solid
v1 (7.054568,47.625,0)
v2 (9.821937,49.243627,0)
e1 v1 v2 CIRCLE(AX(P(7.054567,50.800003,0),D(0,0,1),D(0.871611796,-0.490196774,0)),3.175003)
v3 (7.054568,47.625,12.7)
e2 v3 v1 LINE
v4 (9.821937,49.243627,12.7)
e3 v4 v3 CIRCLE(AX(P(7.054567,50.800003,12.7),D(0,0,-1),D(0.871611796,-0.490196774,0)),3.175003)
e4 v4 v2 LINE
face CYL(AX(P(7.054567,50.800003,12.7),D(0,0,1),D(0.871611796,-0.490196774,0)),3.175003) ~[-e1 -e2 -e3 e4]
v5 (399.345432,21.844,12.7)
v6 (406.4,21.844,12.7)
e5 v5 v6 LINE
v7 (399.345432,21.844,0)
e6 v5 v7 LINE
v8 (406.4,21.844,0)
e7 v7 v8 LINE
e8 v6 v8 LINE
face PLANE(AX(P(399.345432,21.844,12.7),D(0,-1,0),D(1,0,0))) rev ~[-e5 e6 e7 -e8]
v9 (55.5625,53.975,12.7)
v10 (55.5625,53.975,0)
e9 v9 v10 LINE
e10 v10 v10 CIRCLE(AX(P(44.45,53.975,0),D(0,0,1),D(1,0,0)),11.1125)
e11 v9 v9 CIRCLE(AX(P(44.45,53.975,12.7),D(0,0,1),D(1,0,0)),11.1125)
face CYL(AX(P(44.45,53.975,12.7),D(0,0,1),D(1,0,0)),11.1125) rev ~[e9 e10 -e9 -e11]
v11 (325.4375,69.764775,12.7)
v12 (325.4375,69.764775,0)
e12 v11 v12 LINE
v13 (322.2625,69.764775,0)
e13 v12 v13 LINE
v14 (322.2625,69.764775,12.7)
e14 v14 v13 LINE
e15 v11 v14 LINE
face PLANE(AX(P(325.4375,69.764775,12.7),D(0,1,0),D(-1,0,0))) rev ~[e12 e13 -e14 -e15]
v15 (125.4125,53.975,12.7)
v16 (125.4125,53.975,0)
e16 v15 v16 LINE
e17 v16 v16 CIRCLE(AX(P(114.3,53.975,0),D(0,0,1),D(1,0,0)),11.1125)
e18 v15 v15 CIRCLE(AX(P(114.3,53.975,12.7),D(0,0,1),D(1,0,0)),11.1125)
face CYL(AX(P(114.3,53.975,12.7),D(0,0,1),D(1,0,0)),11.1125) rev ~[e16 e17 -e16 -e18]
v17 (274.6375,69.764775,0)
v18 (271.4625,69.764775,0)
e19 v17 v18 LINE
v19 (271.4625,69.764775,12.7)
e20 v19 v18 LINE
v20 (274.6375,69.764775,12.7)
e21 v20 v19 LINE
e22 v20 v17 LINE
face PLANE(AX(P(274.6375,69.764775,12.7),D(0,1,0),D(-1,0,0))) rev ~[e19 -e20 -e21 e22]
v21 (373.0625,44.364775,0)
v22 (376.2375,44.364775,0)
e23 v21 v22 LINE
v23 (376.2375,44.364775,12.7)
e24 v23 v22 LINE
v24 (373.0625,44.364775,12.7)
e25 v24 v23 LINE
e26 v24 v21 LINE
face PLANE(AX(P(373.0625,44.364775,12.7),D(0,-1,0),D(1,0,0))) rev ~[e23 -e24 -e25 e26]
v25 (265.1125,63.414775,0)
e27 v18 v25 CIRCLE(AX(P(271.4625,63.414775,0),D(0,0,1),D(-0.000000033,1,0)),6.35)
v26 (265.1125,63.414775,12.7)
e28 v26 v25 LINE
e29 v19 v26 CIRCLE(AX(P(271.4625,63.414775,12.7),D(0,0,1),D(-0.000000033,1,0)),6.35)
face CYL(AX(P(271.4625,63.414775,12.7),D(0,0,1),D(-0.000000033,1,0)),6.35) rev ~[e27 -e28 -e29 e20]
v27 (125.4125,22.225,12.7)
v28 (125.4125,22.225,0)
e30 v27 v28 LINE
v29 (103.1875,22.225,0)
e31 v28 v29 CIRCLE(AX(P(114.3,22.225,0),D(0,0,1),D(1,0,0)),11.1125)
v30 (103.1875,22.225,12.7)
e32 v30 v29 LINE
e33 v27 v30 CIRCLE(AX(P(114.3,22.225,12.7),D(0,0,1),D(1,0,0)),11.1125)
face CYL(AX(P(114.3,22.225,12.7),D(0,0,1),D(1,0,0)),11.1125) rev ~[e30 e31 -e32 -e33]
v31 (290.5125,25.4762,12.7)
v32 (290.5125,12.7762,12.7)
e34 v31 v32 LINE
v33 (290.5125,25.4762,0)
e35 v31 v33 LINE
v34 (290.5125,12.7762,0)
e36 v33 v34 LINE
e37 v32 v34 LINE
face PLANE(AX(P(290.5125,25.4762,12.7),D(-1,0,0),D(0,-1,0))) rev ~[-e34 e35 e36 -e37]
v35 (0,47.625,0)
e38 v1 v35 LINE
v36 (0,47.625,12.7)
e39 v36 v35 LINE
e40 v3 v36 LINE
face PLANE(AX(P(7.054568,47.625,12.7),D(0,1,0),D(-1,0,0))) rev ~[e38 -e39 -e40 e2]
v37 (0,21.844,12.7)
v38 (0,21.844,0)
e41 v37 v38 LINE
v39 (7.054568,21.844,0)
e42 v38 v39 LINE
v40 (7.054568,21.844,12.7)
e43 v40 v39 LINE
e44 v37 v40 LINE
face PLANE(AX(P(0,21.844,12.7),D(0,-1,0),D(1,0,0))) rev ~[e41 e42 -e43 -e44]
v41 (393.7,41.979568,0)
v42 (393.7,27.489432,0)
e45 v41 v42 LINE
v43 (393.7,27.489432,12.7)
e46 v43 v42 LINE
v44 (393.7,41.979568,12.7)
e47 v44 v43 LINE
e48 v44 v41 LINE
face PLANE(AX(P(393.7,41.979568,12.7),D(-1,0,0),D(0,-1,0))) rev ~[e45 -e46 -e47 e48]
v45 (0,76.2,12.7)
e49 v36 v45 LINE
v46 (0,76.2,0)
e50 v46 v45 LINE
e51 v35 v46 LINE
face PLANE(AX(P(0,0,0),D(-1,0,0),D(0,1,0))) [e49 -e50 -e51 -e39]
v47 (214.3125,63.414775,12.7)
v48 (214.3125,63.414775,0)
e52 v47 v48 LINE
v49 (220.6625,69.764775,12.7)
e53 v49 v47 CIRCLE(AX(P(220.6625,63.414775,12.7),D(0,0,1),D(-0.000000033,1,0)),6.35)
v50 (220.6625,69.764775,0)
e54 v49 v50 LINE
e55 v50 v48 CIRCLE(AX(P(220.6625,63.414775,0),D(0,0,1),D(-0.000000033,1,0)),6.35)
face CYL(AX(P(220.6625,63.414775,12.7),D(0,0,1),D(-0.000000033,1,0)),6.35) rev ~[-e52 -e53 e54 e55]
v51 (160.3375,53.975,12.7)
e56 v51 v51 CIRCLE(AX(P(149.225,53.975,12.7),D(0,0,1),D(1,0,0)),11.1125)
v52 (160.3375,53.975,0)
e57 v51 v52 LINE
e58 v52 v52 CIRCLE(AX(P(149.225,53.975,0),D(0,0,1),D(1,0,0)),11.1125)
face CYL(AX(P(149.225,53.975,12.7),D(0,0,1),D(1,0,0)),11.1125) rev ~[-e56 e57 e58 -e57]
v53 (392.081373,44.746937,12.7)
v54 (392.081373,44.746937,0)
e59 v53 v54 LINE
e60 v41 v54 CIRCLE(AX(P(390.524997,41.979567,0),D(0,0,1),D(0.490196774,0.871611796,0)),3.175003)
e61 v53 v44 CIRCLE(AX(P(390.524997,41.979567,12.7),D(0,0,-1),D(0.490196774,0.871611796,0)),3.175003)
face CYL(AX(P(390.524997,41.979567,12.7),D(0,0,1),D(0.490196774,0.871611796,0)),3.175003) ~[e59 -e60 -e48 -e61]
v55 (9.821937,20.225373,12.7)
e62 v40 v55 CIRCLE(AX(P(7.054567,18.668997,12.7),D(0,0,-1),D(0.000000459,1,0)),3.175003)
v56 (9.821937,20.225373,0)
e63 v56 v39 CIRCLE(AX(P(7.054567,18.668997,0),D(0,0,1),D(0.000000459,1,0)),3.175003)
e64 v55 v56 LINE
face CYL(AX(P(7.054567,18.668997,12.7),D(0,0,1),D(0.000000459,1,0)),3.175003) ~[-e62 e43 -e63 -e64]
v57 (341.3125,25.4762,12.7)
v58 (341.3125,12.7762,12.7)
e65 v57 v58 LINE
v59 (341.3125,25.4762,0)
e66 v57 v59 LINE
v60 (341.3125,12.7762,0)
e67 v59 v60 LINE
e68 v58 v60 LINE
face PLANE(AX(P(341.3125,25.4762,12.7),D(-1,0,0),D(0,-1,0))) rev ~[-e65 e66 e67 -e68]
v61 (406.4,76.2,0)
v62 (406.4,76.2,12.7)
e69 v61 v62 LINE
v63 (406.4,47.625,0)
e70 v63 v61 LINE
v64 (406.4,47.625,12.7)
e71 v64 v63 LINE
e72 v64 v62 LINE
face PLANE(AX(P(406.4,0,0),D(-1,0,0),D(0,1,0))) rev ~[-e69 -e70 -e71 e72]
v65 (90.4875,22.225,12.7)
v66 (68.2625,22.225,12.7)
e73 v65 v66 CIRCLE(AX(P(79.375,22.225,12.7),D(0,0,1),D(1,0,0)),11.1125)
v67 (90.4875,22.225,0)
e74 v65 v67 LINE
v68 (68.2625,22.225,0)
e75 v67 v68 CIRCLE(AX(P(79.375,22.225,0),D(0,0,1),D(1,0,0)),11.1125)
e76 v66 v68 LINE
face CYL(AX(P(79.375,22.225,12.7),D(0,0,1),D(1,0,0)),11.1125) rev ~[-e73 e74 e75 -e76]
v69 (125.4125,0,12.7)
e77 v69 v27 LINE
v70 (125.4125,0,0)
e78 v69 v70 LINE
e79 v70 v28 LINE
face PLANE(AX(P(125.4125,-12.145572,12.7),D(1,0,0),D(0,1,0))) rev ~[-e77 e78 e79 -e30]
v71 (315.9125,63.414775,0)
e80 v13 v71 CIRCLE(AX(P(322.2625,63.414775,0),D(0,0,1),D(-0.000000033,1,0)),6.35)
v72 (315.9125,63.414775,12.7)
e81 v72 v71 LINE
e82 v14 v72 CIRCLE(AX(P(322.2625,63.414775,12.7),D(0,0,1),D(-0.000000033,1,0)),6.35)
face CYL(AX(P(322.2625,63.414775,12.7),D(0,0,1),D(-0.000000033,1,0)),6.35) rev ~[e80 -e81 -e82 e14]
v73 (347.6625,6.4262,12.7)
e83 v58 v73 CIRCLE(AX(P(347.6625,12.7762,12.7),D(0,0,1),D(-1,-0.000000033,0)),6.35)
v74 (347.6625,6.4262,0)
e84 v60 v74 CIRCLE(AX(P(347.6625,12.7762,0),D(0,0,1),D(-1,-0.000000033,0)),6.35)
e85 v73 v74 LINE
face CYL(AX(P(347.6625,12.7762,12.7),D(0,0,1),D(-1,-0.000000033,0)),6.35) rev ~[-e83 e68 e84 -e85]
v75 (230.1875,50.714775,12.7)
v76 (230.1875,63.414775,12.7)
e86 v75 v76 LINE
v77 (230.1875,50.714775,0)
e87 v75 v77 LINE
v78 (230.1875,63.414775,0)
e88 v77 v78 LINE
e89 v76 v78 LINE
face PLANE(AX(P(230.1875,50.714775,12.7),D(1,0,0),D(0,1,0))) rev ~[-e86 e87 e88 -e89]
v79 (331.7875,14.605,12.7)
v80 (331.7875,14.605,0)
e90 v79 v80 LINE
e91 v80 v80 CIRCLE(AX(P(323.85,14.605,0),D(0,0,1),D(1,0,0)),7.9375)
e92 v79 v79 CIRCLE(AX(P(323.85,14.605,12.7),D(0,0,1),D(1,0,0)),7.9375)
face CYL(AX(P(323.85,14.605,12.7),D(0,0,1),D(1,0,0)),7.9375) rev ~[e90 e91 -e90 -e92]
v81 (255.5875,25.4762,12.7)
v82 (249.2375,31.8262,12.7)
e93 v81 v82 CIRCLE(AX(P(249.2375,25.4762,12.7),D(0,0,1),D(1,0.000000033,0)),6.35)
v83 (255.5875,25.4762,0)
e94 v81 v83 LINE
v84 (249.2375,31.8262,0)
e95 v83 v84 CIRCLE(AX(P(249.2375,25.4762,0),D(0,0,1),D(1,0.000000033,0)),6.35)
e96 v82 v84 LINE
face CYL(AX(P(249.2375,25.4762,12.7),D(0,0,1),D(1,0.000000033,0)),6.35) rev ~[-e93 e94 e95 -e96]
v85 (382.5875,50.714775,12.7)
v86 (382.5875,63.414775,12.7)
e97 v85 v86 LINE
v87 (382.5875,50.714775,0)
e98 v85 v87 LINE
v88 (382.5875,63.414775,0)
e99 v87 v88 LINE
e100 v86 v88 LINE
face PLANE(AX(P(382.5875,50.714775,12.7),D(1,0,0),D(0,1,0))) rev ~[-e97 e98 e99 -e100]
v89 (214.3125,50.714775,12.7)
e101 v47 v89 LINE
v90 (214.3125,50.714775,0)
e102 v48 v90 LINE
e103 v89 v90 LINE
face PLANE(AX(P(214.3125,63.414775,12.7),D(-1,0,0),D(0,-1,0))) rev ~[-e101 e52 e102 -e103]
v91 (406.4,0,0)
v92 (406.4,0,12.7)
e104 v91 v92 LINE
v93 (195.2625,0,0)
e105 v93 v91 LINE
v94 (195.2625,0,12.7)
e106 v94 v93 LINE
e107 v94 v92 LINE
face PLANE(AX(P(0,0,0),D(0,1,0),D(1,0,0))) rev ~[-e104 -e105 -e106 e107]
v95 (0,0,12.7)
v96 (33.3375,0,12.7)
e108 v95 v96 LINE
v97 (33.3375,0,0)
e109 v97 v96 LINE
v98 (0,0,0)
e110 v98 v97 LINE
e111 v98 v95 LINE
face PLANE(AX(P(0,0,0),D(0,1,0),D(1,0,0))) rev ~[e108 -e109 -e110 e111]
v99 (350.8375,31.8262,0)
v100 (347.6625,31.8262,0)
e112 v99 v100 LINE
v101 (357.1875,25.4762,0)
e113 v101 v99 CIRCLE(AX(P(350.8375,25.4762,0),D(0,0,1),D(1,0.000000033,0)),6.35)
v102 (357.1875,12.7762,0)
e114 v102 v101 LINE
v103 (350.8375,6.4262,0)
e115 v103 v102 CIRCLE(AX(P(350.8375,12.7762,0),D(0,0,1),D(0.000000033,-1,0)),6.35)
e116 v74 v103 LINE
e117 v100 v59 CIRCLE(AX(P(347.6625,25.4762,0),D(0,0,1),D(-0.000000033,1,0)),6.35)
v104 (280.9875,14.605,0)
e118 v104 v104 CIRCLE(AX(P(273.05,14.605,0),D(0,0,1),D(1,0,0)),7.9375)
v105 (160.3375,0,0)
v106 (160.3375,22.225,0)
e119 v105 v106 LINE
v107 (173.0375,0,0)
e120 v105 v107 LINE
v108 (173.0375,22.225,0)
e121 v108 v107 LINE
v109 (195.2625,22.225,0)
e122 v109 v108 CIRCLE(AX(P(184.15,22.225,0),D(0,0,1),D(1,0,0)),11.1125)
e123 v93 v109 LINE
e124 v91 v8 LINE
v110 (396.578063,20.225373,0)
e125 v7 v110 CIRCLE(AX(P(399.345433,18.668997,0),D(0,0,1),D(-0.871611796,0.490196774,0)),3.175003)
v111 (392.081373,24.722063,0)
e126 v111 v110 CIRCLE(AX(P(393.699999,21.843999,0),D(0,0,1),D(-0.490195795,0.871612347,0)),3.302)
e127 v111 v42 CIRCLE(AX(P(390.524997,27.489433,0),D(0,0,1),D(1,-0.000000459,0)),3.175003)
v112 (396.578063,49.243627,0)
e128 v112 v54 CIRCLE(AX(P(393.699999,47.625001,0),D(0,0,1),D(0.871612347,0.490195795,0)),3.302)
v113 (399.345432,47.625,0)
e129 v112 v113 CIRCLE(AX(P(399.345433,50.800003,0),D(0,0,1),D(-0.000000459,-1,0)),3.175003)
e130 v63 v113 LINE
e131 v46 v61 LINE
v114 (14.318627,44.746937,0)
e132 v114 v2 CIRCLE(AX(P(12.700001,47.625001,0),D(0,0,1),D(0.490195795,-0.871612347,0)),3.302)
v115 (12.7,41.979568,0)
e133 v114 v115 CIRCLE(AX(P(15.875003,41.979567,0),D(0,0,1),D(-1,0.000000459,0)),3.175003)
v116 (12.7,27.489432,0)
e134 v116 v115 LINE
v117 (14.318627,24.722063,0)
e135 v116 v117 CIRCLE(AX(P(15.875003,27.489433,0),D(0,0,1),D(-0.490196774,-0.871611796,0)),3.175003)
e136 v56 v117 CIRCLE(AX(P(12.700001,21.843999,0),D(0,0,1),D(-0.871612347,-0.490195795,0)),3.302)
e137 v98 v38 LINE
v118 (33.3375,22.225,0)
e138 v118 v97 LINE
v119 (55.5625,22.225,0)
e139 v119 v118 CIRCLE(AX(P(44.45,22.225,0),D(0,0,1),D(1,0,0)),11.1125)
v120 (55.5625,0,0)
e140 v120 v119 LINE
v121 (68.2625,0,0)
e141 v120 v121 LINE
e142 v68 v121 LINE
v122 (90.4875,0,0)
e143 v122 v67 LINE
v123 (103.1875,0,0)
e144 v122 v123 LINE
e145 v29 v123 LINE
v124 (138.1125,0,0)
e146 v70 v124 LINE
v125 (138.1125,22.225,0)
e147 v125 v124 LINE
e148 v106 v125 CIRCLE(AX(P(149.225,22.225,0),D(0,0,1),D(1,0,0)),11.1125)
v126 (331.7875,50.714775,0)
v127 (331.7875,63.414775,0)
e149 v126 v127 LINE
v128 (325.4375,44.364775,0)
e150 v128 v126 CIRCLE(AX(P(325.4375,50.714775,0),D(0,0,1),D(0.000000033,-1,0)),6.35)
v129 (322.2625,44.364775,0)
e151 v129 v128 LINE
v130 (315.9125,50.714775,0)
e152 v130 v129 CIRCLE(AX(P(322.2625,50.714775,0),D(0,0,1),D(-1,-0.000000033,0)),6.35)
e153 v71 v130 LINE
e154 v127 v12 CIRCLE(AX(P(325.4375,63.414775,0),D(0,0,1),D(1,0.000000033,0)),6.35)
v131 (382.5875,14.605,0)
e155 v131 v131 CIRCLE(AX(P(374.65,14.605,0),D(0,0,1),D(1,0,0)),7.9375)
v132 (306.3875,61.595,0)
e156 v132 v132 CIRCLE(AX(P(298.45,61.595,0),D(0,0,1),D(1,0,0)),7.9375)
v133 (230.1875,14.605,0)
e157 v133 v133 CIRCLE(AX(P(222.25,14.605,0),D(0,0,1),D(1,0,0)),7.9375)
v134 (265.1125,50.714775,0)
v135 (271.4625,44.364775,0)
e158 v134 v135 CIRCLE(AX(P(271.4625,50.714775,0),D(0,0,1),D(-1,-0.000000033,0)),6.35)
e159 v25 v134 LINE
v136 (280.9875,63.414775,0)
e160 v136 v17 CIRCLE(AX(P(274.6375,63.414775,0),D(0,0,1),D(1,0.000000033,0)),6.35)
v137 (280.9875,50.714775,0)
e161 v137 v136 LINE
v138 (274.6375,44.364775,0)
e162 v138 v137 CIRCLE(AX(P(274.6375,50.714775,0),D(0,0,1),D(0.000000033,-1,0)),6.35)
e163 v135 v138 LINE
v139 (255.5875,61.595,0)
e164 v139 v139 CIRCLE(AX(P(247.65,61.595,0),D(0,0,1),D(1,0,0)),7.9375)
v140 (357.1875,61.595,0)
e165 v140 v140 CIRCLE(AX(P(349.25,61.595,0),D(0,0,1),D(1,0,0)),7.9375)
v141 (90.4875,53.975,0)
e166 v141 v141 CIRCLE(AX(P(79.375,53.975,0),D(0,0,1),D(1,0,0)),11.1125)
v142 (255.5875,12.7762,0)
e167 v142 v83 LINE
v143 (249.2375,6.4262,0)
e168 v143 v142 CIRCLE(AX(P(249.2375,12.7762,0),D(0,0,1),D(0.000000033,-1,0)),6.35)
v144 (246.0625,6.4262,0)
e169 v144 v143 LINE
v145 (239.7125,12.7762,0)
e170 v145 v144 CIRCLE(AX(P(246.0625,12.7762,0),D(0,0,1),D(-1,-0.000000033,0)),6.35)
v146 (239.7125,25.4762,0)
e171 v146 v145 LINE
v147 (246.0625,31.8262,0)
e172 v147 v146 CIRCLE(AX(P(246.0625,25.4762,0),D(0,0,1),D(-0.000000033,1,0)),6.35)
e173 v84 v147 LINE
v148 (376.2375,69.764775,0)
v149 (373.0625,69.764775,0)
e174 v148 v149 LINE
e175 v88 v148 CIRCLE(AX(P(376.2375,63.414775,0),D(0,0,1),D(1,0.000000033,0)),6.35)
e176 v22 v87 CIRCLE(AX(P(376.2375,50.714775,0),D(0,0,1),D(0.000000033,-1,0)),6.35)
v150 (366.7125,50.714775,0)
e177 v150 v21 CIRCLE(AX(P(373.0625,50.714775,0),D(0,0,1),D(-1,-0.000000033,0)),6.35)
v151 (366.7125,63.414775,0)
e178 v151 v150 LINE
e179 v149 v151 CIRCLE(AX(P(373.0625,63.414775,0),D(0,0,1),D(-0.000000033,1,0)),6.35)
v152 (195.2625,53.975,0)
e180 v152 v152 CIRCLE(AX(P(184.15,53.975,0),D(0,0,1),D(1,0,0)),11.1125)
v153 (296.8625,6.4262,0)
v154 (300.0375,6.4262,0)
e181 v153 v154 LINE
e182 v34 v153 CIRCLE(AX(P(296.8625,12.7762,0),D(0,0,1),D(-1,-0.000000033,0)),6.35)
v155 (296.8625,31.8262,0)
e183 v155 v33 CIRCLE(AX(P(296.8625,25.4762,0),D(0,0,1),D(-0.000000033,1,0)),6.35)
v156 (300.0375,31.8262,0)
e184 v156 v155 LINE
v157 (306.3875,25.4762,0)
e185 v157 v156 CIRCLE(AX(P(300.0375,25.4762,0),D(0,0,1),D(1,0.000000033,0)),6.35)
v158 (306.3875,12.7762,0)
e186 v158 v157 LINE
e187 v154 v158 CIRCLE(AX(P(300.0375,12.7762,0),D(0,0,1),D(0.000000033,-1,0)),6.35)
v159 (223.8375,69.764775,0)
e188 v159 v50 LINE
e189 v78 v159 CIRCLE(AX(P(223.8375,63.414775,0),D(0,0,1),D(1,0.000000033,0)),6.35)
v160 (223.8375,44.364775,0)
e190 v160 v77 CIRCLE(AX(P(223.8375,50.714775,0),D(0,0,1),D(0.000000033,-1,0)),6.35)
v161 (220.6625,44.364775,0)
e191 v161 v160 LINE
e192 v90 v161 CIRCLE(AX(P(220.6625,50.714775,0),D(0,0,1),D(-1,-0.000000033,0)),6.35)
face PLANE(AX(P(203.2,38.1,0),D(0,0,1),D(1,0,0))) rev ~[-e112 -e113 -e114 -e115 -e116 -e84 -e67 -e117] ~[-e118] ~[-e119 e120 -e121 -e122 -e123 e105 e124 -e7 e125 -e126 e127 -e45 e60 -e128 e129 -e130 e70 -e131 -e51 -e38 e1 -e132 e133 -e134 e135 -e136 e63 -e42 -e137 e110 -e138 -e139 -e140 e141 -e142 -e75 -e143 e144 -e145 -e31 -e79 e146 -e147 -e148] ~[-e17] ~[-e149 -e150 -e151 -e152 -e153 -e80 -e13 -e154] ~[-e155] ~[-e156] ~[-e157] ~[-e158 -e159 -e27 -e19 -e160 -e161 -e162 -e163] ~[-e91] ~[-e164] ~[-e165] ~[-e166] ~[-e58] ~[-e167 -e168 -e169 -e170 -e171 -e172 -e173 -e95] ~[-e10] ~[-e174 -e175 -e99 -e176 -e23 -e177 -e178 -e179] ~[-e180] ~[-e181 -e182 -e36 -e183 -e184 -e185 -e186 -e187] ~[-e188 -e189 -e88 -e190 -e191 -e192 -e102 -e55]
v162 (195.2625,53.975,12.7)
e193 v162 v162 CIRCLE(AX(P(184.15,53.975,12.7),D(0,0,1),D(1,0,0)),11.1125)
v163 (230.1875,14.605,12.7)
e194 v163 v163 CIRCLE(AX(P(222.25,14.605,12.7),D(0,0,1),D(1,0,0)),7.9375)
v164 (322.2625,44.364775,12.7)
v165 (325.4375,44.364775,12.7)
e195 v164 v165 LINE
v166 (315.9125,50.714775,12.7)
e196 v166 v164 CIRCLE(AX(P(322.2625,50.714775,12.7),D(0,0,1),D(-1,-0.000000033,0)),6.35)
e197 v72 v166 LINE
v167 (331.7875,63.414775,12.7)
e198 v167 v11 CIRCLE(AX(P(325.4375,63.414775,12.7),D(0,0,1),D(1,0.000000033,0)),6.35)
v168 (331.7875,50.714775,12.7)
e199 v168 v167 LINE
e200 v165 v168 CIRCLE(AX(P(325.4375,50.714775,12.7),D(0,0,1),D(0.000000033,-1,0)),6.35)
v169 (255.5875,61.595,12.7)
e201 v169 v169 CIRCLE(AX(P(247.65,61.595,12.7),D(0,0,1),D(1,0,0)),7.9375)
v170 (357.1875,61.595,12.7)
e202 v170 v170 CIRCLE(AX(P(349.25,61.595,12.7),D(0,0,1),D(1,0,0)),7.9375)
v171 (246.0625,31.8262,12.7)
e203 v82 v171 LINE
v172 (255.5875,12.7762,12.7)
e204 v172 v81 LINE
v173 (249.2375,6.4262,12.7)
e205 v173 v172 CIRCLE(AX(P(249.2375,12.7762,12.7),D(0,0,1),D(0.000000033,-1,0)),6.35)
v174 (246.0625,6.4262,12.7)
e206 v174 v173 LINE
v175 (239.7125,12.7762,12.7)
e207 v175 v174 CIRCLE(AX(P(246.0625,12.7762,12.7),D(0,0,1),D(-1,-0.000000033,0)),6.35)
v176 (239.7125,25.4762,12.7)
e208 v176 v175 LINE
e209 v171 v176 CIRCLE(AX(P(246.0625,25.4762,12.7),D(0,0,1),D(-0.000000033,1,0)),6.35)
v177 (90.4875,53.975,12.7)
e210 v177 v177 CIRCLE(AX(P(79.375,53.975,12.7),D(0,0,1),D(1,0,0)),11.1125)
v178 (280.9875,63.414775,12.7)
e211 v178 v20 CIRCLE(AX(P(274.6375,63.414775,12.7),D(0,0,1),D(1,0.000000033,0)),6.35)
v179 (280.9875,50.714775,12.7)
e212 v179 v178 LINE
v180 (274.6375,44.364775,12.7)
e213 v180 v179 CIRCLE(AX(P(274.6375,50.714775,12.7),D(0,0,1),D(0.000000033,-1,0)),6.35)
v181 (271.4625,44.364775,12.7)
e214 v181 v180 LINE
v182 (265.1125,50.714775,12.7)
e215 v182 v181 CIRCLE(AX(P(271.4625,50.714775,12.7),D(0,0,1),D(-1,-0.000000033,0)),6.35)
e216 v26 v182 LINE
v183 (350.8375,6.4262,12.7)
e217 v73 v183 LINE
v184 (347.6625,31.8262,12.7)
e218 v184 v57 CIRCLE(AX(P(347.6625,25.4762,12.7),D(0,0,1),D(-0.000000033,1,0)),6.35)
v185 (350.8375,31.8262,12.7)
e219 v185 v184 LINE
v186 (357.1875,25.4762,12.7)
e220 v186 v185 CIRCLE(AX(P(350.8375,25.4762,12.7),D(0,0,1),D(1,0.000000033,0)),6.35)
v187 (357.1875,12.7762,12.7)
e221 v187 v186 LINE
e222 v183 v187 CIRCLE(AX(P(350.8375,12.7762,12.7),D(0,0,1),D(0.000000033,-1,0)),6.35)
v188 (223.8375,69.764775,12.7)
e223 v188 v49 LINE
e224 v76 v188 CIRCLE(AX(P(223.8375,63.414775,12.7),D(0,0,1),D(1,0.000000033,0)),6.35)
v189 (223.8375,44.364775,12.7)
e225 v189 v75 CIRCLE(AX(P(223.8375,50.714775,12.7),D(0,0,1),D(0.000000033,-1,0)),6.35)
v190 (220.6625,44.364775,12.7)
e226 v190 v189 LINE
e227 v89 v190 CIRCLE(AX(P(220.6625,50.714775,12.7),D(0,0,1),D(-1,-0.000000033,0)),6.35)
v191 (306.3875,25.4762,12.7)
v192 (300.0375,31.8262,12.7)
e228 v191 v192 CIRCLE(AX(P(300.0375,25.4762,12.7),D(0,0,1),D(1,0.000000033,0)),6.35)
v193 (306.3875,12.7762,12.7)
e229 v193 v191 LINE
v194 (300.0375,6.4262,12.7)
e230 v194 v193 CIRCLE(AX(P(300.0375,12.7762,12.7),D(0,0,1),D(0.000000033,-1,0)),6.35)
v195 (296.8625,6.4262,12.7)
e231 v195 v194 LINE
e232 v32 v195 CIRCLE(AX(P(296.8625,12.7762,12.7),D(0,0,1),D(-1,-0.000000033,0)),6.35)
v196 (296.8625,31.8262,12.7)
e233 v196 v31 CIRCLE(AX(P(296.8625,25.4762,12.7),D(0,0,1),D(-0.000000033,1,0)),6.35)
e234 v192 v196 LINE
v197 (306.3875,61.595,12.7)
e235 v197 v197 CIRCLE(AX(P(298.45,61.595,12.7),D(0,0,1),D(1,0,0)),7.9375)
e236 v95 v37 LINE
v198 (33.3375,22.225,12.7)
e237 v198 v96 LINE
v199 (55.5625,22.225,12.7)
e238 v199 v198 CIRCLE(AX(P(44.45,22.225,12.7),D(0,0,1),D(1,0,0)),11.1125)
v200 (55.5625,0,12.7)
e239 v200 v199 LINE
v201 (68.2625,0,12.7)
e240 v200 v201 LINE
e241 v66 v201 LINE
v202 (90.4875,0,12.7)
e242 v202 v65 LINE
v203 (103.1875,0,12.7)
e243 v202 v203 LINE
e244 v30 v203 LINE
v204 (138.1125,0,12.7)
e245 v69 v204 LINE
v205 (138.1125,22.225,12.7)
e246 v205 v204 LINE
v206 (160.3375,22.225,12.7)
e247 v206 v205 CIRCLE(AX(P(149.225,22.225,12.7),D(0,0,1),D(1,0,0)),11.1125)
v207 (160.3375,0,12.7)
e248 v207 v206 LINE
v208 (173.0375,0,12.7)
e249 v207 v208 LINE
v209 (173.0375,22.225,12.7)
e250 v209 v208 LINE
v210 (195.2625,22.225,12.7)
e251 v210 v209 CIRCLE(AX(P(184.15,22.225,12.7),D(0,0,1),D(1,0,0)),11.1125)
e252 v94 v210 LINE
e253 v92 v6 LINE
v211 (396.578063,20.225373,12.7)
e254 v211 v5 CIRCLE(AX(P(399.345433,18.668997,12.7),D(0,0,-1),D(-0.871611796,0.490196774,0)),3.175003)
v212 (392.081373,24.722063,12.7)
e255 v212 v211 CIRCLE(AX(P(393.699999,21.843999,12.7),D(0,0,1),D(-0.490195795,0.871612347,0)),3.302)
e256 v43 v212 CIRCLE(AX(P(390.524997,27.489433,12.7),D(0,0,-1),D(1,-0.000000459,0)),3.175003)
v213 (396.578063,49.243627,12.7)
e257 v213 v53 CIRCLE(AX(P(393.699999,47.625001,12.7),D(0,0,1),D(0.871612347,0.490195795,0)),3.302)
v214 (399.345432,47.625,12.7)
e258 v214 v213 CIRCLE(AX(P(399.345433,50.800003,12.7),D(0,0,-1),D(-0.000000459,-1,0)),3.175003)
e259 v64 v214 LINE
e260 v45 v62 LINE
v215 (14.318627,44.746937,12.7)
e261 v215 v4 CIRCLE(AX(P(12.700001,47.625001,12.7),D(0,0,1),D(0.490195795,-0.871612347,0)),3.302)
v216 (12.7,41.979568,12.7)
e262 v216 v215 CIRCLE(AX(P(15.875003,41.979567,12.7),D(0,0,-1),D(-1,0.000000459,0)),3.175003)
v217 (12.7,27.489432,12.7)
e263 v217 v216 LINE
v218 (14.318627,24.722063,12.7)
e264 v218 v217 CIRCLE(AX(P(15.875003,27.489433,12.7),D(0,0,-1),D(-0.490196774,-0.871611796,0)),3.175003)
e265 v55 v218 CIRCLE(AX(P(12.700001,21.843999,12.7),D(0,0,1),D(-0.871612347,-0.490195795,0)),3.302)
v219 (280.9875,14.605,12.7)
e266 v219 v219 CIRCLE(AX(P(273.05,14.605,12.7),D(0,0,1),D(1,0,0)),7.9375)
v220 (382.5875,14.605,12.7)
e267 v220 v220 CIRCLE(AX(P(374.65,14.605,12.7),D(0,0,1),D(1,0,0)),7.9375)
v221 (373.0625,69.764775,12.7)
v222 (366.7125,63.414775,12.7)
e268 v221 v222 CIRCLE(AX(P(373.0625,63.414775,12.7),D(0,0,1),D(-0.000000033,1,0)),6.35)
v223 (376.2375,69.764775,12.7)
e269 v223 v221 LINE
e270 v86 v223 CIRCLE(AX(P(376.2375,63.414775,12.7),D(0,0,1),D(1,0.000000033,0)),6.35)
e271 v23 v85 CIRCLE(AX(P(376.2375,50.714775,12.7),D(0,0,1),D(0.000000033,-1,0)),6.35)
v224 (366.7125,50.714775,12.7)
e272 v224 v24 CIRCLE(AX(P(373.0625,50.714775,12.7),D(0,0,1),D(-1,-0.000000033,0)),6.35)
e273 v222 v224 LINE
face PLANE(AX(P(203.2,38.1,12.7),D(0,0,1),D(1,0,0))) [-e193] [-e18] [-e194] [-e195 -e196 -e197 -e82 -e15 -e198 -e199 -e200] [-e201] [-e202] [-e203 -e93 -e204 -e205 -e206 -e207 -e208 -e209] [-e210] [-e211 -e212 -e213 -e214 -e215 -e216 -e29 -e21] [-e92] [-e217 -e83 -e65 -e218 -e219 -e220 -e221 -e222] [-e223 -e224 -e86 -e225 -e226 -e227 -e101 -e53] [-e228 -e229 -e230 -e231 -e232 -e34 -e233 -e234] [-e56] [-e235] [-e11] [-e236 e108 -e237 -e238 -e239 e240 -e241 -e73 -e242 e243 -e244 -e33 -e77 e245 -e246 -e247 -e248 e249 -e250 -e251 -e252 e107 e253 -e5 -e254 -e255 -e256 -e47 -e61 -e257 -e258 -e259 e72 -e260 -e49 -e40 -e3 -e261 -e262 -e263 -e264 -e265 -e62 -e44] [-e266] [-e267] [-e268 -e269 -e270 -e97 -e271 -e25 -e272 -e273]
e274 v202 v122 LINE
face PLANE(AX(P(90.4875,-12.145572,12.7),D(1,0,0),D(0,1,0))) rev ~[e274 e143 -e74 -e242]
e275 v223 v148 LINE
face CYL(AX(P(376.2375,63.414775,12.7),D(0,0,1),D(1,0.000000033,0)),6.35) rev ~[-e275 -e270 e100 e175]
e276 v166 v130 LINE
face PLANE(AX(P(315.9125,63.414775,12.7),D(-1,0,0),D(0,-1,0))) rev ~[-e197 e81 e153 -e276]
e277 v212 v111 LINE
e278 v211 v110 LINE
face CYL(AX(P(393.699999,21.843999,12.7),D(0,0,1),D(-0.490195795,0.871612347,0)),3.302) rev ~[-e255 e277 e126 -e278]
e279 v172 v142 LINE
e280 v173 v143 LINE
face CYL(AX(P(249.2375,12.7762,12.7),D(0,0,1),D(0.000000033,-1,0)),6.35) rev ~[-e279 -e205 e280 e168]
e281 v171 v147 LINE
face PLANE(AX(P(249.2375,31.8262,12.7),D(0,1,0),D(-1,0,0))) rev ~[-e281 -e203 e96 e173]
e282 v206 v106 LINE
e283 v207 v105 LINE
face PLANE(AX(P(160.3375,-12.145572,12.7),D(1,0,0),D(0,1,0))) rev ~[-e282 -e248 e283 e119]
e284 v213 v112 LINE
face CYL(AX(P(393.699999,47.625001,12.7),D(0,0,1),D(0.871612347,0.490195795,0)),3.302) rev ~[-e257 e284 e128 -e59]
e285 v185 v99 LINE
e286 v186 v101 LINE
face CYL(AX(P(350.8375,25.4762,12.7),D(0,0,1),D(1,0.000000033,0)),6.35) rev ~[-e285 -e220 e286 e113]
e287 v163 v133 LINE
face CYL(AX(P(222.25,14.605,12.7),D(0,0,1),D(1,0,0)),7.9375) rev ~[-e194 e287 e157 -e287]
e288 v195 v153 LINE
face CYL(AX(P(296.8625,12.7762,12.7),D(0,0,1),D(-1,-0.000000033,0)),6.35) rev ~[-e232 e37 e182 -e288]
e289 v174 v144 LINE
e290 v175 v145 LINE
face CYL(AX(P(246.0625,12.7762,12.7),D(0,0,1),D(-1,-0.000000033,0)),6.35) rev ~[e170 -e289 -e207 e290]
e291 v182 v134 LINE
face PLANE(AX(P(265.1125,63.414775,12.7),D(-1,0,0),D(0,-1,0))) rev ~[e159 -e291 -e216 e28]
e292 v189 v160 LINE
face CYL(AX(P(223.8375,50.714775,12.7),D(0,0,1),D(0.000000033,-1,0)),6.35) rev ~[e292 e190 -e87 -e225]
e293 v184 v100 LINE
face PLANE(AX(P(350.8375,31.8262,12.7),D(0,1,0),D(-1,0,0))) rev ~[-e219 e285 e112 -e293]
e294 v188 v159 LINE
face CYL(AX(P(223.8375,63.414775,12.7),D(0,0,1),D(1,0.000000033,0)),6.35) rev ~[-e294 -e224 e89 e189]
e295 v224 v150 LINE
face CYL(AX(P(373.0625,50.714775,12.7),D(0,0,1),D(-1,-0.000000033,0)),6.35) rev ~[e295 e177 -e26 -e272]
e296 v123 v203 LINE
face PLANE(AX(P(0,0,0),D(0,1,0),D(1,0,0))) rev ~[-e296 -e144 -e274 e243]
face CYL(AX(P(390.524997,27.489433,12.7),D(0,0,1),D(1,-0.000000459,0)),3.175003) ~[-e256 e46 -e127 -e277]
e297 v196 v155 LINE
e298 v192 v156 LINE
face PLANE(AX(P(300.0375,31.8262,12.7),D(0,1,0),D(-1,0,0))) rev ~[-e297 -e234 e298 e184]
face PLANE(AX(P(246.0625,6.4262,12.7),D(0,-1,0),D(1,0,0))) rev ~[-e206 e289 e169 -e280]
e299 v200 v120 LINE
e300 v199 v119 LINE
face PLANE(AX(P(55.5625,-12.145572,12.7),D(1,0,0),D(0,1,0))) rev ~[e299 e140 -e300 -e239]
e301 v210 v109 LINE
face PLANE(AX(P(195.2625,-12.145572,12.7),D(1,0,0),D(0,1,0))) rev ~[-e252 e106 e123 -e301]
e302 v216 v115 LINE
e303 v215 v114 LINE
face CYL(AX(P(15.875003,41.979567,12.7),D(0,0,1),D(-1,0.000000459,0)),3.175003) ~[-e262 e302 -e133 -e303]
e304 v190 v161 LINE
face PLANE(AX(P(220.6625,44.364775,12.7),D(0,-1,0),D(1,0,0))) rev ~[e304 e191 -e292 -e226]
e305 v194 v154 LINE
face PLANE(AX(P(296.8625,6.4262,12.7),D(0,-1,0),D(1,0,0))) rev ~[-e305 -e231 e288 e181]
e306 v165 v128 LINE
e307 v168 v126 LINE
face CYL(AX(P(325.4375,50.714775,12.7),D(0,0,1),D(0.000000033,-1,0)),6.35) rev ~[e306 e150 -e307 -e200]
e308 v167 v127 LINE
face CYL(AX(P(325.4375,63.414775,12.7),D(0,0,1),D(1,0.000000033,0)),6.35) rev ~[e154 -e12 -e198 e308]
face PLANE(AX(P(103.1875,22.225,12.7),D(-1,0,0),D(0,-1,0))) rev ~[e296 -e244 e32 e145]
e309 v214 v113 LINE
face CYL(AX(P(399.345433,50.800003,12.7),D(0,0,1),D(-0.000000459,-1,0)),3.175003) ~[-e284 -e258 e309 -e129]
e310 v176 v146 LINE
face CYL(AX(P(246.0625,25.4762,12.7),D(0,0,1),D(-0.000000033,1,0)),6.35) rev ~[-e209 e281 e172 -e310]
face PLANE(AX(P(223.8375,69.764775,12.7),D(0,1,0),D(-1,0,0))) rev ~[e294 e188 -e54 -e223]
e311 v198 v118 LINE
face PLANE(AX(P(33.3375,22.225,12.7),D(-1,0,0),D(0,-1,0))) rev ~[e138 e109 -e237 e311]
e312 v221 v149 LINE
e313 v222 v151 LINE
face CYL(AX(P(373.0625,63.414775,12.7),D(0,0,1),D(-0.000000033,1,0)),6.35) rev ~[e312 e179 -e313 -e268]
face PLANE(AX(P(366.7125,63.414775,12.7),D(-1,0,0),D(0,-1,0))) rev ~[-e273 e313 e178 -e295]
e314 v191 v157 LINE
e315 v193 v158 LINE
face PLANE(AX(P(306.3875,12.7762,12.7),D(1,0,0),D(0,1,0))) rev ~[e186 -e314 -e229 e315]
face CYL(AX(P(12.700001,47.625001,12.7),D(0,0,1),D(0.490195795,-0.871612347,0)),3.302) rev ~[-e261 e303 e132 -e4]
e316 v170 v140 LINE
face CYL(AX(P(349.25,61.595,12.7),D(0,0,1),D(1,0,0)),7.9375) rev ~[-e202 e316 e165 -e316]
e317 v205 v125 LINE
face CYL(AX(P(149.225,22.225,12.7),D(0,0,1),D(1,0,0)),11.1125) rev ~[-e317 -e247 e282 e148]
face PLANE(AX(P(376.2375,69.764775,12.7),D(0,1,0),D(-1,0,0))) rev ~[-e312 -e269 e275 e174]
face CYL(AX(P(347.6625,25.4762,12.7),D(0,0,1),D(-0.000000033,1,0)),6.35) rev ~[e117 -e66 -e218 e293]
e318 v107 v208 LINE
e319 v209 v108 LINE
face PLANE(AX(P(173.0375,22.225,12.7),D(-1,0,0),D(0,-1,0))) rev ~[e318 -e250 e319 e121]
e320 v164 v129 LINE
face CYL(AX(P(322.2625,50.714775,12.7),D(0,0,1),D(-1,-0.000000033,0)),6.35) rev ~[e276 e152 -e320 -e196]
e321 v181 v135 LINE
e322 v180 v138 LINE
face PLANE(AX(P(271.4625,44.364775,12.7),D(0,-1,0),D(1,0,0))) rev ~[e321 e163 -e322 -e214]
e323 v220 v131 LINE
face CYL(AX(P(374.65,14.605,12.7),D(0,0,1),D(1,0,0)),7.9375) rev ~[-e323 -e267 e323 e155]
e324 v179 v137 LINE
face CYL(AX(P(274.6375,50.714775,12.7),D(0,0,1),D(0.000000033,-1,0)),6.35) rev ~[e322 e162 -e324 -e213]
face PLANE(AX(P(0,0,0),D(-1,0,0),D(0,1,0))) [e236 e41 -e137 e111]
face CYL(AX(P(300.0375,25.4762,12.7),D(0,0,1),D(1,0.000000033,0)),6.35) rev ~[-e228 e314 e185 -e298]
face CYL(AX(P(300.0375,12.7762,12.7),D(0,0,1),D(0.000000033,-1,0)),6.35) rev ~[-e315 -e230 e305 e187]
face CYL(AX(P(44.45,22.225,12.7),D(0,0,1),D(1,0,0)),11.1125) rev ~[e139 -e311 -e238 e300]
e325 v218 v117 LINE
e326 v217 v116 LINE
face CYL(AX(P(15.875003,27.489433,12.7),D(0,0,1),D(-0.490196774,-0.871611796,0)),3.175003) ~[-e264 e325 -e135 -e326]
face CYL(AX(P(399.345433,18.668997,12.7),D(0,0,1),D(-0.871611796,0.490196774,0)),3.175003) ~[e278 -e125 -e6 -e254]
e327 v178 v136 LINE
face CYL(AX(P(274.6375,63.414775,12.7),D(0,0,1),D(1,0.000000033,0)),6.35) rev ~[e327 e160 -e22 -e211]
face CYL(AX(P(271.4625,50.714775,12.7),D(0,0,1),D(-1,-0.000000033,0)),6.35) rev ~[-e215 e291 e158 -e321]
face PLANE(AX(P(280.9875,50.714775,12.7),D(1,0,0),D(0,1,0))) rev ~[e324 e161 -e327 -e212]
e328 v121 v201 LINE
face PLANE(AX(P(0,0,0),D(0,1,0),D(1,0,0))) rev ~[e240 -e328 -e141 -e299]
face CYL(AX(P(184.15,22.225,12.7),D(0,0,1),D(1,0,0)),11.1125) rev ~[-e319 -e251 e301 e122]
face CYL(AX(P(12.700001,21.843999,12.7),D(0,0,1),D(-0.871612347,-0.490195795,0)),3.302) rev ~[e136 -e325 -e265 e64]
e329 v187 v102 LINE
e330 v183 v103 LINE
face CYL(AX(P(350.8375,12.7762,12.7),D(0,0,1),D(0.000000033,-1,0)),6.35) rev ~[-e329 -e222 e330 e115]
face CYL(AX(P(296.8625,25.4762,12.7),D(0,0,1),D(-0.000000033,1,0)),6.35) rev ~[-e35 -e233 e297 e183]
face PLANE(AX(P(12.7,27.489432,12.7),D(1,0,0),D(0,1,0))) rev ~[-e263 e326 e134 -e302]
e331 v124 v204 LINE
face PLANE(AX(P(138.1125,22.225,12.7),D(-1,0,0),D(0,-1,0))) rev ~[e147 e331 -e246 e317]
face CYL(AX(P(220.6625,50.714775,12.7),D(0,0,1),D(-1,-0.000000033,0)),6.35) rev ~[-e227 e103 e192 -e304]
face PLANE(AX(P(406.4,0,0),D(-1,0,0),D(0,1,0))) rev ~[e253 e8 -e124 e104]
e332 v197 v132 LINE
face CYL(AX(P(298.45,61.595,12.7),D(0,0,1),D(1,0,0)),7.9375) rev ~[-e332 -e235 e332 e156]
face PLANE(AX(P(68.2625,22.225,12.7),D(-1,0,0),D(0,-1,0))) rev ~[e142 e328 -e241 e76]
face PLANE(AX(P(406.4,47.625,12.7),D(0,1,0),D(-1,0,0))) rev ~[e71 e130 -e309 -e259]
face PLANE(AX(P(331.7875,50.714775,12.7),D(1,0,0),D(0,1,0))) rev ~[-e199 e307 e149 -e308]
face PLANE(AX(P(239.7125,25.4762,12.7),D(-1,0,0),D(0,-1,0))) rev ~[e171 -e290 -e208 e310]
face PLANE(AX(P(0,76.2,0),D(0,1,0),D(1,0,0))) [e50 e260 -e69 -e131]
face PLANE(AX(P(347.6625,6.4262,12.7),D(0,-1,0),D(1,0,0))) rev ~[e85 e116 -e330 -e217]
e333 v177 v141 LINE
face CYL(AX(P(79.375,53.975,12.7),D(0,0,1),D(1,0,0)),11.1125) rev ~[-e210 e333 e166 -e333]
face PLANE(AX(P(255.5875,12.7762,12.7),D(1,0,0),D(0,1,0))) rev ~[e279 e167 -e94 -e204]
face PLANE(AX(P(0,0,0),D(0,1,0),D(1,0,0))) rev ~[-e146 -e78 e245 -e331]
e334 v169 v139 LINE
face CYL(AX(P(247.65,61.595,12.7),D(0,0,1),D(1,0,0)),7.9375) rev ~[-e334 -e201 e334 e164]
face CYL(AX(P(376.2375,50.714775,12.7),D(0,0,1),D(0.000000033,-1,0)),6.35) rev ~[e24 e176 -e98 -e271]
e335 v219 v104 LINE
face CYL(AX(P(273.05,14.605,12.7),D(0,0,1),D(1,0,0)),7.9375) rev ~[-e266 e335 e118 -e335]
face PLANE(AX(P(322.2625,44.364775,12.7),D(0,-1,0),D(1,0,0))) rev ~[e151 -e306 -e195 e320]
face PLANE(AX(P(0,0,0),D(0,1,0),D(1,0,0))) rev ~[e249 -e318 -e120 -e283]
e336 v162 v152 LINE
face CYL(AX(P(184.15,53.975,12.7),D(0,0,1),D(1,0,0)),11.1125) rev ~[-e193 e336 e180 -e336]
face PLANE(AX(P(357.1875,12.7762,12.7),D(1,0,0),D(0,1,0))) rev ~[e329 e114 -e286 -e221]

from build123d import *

# Parameters (mm, degrees)
F0_W     = 406.4
F0_H     = 76.2
F1_DEPTH = 12.7
F3_DEPTH = 25.4
F4_R     = 11.1125
F4_R_2   = 7.9375
F5_DEPTH = 25.4


with BuildPart() as f1:
    # F0 (on Top) → F1 (new body)
    with BuildSketch(Plane.XY):
        with Locations((203.2, 38.1)):
            Rectangle(F0_W, F0_H)
    extrude(amount=F1_DEPTH)

    # F2 (on face) → F3 (cut)
    with BuildSketch(Plane.XY.offset(12.7)):
        with BuildLine():
            Line((7.054568, 47.625), (0, 47.625))
            Line((0, 47.625), (0, 21.844))
            Line((0, 21.844), (7.054568, 21.844))
            ThreePointArc((7.054568, 21.844), (8.657556, 21.40963), (9.821937, 20.225373))
            ThreePointArc((9.821937, 20.225373), (15.034867, 19.509133), (14.318627, 24.722063))
            ThreePointArc((14.318627, 24.722063), (13.13437, 25.886444), (12.7, 27.489432))
            Line((12.7, 27.489432), (12.7, 41.979568))
            ThreePointArc((12.7, 41.979568), (13.13437, 43.582556), (14.318627, 44.746937))
            ThreePointArc((14.318627, 44.746937), (15.034867, 49.959867), (9.821937, 49.243627))
            ThreePointArc((9.821937, 49.243627), (8.657556, 48.05937), (7.054568, 47.625))
        make_face()
        with BuildLine():
            Line((393.7, 41.979568), (393.7, 27.489432))
            ThreePointArc((393.7, 27.489432), (393.26563, 25.886444), (392.081373, 24.722063))
            ThreePointArc((392.081373, 24.722063), (391.365133, 19.509133), (396.578063, 20.225373))
            ThreePointArc((396.578063, 20.225373), (397.742444, 21.40963), (399.345432, 21.844))
            Line((399.345432, 21.844), (406.4, 21.844))
            Line((406.4, 21.844), (406.4, 47.625))
            Line((406.4, 47.625), (399.345432, 47.625))
            ThreePointArc((399.345432, 47.625), (397.742444, 48.05937), (396.578063, 49.243627))
            ThreePointArc((396.578063, 49.243627), (391.365133, 49.959867), (392.081373, 44.746937))
            ThreePointArc((392.081373, 44.746937), (393.26563, 43.582556), (393.7, 41.979568))
        make_face()
    extrude(amount=-F3_DEPTH, mode=Mode.SUBTRACT)

    # F4 (on face) → F5 (cut)
    with BuildSketch(Plane.XY.offset(12.7)):
        with Locations((44.45, 53.975)):
            Circle(F4_R)
        with BuildLine():
            Line((55.5625, -12.145572), (55.5625, 22.225))
            ThreePointArc((55.5625, 22.225), (44.45, 33.3375), (33.3375, 22.225))
            Line((33.3375, 22.225), (33.3375, 0))
            Line((33.3375, 0), (33.3375, -12.145572))
            Line((33.3375, -12.145572), (55.5625, -12.145572))
        make_face()
        with Locations((222.25, 14.605)):
            Circle(F4_R_2)
        with Locations((247.65, 61.595)):
            Circle(F4_R_2)
        with BuildLine():
            Line((220.6625, 44.364775), (223.8375, 44.364775))
            ThreePointArc((223.8375, 44.364775), (228.327628, 46.224647), (230.1875, 50.714775))
            Line((230.1875, 50.714775), (230.1875, 63.414775))
            ThreePointArc((230.1875, 63.414775), (228.327628, 67.904903), (223.8375, 69.764775))
            Line((223.8375, 69.764775), (220.6625, 69.764775))
            ThreePointArc((220.6625, 69.764775), (216.172372, 67.904903), (214.3125, 63.414775))
            Line((214.3125, 63.414775), (214.3125, 50.714775))
            ThreePointArc((214.3125, 50.714775), (216.172372, 46.224647), (220.6625, 44.364775))
        make_face()
        with BuildLine():
            Line((246.0625, 6.4262), (249.2375, 6.4262))
            ThreePointArc((249.2375, 6.4262), (253.727628, 8.286072), (255.5875, 12.7762))
            Line((255.5875, 12.7762), (255.5875, 25.4762))
            ThreePointArc((255.5875, 25.4762), (253.727628, 29.966328), (249.2375, 31.8262))
            Line((249.2375, 31.8262), (246.0625, 31.8262))
            ThreePointArc((246.0625, 31.8262), (241.572372, 29.966328), (239.7125, 25.4762))
            Line((239.7125, 25.4762), (239.7125, 12.7762))
            ThreePointArc((239.7125, 12.7762), (241.572372, 8.286072), (246.0625, 6.4262))
        make_face()
        with BuildLine():
            Line((296.8625, 6.4262), (300.0375, 6.4262))
            ThreePointArc((300.0375, 6.4262), (304.527628, 8.286072), (306.3875, 12.7762))
            Line((306.3875, 12.7762), (306.3875, 25.4762))
            ThreePointArc((306.3875, 25.4762), (304.527628, 29.966328), (300.0375, 31.8262))
            Line((300.0375, 31.8262), (296.8625, 31.8262))
            ThreePointArc((296.8625, 31.8262), (292.372372, 29.966328), (290.5125, 25.4762))
            Line((290.5125, 25.4762), (290.5125, 12.7762))
            ThreePointArc((290.5125, 12.7762), (292.372372, 8.286072), (296.8625, 6.4262))
        make_face()
        with BuildLine():
            Line((265.1125, 63.414775), (265.1125, 50.714775))
            ThreePointArc((265.1125, 50.714775), (266.972372, 46.224647), (271.4625, 44.364775))
            Line((271.4625, 44.364775), (274.6375, 44.364775))
            ThreePointArc((274.6375, 44.364775), (279.127628, 46.224647), (280.9875, 50.714775))
            Line((280.9875, 50.714775), (280.9875, 63.414775))
            ThreePointArc((280.9875, 63.414775), (279.127628, 67.904903), (274.6375, 69.764775))
            Line((274.6375, 69.764775), (271.4625, 69.764775))
            ThreePointArc((271.4625, 69.764775), (266.972372, 67.904903), (265.1125, 63.414775))
        make_face()
        with Locations((298.45, 61.595)):
            Circle(F4_R_2)
        with Locations((273.05, 14.605)):
            Circle(F4_R_2)
        with BuildLine():
            Line((347.6625, 6.4262), (350.8375, 6.4262))
            ThreePointArc((350.8375, 6.4262), (355.327628, 8.286072), (357.1875, 12.7762))
            Line((357.1875, 12.7762), (357.1875, 25.4762))
            ThreePointArc((357.1875, 25.4762), (355.327628, 29.966328), (350.8375, 31.8262))
            Line((350.8375, 31.8262), (347.6625, 31.8262))
            ThreePointArc((347.6625, 31.8262), (343.172372, 29.966328), (341.3125, 25.4762))
            Line((341.3125, 25.4762), (341.3125, 12.7762))
            ThreePointArc((341.3125, 12.7762), (343.172372, 8.286072), (347.6625, 6.4262))
        make_face()
        with BuildLine():
            Line((315.9125, 63.414775), (315.9125, 50.714775))
            ThreePointArc((315.9125, 50.714775), (317.772372, 46.224647), (322.2625, 44.364775))
            Line((322.2625, 44.364775), (325.4375, 44.364775))
            ThreePointArc((325.4375, 44.364775), (329.927628, 46.224647), (331.7875, 50.714775))
            Line((331.7875, 50.714775), (331.7875, 63.414775))
            ThreePointArc((331.7875, 63.414775), (329.927628, 67.904903), (325.4375, 69.764775))
            Line((325.4375, 69.764775), (322.2625, 69.764775))
            ThreePointArc((322.2625, 69.764775), (317.772372, 67.904903), (315.9125, 63.414775))
        make_face()
        with Locations((349.25, 61.595)):
            Circle(F4_R_2)
        with Locations((323.85, 14.605)):
            Circle(F4_R_2)
        with BuildLine():
            Line((366.7125, 63.414775), (366.7125, 50.714775))
            ThreePointArc((366.7125, 50.714775), (368.572372, 46.224647), (373.0625, 44.364775))
            Line((373.0625, 44.364775), (376.2375, 44.364775))
            ThreePointArc((376.2375, 44.364775), (380.727628, 46.224647), (382.5875, 50.714775))
            Line((382.5875, 50.714775), (382.5875, 63.414775))
            ThreePointArc((382.5875, 63.414775), (380.727628, 67.904903), (376.2375, 69.764775))
            Line((376.2375, 69.764775), (373.0625, 69.764775))
            ThreePointArc((373.0625, 69.764775), (368.572372, 67.904903), (366.7125, 63.414775))
        make_face()
        with Locations((374.65, 14.605)):
            Circle(F4_R_2)
        with BuildLine():
            Line((90.4875, -12.145572), (90.4875, 22.225))
            ThreePointArc((90.4875, 22.225), (79.375, 33.3375), (68.2625, 22.225))
            Line((68.2625, 22.225), (68.2625, 0))
            Line((68.2625, 0), (68.2625, -12.145572))
            Line((68.2625, -12.145572), (90.4875, -12.145572))
        make_face()
        with Locations((79.375, 53.975)):
            Circle(F4_R)
        with BuildLine():
            Line((125.4125, -12.145572), (125.4125, 22.225))
            ThreePointArc((125.4125, 22.225), (114.3, 33.3375), (103.1875, 22.225))
            Line((103.1875, 22.225), (103.1875, 0))
            Line((103.1875, 0), (103.1875, -12.145572))
            Line((103.1875, -12.145572), (125.4125, -12.145572))
        make_face()
        with Locations((114.3, 53.975)):
            Circle(F4_R)
        with BuildLine():
            Line((160.3375, -12.145572), (160.3375, 22.225))
            ThreePointArc((160.3375, 22.225), (149.225, 33.3375), (138.1125, 22.225))
            Line((138.1125, 22.225), (138.1125, 0))
            Line((138.1125, 0), (138.1125, -12.145572))
            Line((138.1125, -12.145572), (160.3375, -12.145572))
        make_face()
        with Locations((149.225, 53.975)):
            Circle(F4_R)
        with BuildLine():
            Line((195.2625, -12.145572), (195.2625, 22.225))
            ThreePointArc((195.2625, 22.225), (184.15, 33.3375), (173.0375, 22.225))
            Line((173.0375, 22.225), (173.0375, 0))
            Line((173.0375, 0), (173.0375, -12.145572))
            Line((173.0375, -12.145572), (195.2625, -12.145572))
        make_face()
        with Locations((184.15, 53.975)):
            Circle(F4_R)
    extrude(amount=-F5_DEPTH, mode=Mode.SUBTRACT)


solid = f1.part
